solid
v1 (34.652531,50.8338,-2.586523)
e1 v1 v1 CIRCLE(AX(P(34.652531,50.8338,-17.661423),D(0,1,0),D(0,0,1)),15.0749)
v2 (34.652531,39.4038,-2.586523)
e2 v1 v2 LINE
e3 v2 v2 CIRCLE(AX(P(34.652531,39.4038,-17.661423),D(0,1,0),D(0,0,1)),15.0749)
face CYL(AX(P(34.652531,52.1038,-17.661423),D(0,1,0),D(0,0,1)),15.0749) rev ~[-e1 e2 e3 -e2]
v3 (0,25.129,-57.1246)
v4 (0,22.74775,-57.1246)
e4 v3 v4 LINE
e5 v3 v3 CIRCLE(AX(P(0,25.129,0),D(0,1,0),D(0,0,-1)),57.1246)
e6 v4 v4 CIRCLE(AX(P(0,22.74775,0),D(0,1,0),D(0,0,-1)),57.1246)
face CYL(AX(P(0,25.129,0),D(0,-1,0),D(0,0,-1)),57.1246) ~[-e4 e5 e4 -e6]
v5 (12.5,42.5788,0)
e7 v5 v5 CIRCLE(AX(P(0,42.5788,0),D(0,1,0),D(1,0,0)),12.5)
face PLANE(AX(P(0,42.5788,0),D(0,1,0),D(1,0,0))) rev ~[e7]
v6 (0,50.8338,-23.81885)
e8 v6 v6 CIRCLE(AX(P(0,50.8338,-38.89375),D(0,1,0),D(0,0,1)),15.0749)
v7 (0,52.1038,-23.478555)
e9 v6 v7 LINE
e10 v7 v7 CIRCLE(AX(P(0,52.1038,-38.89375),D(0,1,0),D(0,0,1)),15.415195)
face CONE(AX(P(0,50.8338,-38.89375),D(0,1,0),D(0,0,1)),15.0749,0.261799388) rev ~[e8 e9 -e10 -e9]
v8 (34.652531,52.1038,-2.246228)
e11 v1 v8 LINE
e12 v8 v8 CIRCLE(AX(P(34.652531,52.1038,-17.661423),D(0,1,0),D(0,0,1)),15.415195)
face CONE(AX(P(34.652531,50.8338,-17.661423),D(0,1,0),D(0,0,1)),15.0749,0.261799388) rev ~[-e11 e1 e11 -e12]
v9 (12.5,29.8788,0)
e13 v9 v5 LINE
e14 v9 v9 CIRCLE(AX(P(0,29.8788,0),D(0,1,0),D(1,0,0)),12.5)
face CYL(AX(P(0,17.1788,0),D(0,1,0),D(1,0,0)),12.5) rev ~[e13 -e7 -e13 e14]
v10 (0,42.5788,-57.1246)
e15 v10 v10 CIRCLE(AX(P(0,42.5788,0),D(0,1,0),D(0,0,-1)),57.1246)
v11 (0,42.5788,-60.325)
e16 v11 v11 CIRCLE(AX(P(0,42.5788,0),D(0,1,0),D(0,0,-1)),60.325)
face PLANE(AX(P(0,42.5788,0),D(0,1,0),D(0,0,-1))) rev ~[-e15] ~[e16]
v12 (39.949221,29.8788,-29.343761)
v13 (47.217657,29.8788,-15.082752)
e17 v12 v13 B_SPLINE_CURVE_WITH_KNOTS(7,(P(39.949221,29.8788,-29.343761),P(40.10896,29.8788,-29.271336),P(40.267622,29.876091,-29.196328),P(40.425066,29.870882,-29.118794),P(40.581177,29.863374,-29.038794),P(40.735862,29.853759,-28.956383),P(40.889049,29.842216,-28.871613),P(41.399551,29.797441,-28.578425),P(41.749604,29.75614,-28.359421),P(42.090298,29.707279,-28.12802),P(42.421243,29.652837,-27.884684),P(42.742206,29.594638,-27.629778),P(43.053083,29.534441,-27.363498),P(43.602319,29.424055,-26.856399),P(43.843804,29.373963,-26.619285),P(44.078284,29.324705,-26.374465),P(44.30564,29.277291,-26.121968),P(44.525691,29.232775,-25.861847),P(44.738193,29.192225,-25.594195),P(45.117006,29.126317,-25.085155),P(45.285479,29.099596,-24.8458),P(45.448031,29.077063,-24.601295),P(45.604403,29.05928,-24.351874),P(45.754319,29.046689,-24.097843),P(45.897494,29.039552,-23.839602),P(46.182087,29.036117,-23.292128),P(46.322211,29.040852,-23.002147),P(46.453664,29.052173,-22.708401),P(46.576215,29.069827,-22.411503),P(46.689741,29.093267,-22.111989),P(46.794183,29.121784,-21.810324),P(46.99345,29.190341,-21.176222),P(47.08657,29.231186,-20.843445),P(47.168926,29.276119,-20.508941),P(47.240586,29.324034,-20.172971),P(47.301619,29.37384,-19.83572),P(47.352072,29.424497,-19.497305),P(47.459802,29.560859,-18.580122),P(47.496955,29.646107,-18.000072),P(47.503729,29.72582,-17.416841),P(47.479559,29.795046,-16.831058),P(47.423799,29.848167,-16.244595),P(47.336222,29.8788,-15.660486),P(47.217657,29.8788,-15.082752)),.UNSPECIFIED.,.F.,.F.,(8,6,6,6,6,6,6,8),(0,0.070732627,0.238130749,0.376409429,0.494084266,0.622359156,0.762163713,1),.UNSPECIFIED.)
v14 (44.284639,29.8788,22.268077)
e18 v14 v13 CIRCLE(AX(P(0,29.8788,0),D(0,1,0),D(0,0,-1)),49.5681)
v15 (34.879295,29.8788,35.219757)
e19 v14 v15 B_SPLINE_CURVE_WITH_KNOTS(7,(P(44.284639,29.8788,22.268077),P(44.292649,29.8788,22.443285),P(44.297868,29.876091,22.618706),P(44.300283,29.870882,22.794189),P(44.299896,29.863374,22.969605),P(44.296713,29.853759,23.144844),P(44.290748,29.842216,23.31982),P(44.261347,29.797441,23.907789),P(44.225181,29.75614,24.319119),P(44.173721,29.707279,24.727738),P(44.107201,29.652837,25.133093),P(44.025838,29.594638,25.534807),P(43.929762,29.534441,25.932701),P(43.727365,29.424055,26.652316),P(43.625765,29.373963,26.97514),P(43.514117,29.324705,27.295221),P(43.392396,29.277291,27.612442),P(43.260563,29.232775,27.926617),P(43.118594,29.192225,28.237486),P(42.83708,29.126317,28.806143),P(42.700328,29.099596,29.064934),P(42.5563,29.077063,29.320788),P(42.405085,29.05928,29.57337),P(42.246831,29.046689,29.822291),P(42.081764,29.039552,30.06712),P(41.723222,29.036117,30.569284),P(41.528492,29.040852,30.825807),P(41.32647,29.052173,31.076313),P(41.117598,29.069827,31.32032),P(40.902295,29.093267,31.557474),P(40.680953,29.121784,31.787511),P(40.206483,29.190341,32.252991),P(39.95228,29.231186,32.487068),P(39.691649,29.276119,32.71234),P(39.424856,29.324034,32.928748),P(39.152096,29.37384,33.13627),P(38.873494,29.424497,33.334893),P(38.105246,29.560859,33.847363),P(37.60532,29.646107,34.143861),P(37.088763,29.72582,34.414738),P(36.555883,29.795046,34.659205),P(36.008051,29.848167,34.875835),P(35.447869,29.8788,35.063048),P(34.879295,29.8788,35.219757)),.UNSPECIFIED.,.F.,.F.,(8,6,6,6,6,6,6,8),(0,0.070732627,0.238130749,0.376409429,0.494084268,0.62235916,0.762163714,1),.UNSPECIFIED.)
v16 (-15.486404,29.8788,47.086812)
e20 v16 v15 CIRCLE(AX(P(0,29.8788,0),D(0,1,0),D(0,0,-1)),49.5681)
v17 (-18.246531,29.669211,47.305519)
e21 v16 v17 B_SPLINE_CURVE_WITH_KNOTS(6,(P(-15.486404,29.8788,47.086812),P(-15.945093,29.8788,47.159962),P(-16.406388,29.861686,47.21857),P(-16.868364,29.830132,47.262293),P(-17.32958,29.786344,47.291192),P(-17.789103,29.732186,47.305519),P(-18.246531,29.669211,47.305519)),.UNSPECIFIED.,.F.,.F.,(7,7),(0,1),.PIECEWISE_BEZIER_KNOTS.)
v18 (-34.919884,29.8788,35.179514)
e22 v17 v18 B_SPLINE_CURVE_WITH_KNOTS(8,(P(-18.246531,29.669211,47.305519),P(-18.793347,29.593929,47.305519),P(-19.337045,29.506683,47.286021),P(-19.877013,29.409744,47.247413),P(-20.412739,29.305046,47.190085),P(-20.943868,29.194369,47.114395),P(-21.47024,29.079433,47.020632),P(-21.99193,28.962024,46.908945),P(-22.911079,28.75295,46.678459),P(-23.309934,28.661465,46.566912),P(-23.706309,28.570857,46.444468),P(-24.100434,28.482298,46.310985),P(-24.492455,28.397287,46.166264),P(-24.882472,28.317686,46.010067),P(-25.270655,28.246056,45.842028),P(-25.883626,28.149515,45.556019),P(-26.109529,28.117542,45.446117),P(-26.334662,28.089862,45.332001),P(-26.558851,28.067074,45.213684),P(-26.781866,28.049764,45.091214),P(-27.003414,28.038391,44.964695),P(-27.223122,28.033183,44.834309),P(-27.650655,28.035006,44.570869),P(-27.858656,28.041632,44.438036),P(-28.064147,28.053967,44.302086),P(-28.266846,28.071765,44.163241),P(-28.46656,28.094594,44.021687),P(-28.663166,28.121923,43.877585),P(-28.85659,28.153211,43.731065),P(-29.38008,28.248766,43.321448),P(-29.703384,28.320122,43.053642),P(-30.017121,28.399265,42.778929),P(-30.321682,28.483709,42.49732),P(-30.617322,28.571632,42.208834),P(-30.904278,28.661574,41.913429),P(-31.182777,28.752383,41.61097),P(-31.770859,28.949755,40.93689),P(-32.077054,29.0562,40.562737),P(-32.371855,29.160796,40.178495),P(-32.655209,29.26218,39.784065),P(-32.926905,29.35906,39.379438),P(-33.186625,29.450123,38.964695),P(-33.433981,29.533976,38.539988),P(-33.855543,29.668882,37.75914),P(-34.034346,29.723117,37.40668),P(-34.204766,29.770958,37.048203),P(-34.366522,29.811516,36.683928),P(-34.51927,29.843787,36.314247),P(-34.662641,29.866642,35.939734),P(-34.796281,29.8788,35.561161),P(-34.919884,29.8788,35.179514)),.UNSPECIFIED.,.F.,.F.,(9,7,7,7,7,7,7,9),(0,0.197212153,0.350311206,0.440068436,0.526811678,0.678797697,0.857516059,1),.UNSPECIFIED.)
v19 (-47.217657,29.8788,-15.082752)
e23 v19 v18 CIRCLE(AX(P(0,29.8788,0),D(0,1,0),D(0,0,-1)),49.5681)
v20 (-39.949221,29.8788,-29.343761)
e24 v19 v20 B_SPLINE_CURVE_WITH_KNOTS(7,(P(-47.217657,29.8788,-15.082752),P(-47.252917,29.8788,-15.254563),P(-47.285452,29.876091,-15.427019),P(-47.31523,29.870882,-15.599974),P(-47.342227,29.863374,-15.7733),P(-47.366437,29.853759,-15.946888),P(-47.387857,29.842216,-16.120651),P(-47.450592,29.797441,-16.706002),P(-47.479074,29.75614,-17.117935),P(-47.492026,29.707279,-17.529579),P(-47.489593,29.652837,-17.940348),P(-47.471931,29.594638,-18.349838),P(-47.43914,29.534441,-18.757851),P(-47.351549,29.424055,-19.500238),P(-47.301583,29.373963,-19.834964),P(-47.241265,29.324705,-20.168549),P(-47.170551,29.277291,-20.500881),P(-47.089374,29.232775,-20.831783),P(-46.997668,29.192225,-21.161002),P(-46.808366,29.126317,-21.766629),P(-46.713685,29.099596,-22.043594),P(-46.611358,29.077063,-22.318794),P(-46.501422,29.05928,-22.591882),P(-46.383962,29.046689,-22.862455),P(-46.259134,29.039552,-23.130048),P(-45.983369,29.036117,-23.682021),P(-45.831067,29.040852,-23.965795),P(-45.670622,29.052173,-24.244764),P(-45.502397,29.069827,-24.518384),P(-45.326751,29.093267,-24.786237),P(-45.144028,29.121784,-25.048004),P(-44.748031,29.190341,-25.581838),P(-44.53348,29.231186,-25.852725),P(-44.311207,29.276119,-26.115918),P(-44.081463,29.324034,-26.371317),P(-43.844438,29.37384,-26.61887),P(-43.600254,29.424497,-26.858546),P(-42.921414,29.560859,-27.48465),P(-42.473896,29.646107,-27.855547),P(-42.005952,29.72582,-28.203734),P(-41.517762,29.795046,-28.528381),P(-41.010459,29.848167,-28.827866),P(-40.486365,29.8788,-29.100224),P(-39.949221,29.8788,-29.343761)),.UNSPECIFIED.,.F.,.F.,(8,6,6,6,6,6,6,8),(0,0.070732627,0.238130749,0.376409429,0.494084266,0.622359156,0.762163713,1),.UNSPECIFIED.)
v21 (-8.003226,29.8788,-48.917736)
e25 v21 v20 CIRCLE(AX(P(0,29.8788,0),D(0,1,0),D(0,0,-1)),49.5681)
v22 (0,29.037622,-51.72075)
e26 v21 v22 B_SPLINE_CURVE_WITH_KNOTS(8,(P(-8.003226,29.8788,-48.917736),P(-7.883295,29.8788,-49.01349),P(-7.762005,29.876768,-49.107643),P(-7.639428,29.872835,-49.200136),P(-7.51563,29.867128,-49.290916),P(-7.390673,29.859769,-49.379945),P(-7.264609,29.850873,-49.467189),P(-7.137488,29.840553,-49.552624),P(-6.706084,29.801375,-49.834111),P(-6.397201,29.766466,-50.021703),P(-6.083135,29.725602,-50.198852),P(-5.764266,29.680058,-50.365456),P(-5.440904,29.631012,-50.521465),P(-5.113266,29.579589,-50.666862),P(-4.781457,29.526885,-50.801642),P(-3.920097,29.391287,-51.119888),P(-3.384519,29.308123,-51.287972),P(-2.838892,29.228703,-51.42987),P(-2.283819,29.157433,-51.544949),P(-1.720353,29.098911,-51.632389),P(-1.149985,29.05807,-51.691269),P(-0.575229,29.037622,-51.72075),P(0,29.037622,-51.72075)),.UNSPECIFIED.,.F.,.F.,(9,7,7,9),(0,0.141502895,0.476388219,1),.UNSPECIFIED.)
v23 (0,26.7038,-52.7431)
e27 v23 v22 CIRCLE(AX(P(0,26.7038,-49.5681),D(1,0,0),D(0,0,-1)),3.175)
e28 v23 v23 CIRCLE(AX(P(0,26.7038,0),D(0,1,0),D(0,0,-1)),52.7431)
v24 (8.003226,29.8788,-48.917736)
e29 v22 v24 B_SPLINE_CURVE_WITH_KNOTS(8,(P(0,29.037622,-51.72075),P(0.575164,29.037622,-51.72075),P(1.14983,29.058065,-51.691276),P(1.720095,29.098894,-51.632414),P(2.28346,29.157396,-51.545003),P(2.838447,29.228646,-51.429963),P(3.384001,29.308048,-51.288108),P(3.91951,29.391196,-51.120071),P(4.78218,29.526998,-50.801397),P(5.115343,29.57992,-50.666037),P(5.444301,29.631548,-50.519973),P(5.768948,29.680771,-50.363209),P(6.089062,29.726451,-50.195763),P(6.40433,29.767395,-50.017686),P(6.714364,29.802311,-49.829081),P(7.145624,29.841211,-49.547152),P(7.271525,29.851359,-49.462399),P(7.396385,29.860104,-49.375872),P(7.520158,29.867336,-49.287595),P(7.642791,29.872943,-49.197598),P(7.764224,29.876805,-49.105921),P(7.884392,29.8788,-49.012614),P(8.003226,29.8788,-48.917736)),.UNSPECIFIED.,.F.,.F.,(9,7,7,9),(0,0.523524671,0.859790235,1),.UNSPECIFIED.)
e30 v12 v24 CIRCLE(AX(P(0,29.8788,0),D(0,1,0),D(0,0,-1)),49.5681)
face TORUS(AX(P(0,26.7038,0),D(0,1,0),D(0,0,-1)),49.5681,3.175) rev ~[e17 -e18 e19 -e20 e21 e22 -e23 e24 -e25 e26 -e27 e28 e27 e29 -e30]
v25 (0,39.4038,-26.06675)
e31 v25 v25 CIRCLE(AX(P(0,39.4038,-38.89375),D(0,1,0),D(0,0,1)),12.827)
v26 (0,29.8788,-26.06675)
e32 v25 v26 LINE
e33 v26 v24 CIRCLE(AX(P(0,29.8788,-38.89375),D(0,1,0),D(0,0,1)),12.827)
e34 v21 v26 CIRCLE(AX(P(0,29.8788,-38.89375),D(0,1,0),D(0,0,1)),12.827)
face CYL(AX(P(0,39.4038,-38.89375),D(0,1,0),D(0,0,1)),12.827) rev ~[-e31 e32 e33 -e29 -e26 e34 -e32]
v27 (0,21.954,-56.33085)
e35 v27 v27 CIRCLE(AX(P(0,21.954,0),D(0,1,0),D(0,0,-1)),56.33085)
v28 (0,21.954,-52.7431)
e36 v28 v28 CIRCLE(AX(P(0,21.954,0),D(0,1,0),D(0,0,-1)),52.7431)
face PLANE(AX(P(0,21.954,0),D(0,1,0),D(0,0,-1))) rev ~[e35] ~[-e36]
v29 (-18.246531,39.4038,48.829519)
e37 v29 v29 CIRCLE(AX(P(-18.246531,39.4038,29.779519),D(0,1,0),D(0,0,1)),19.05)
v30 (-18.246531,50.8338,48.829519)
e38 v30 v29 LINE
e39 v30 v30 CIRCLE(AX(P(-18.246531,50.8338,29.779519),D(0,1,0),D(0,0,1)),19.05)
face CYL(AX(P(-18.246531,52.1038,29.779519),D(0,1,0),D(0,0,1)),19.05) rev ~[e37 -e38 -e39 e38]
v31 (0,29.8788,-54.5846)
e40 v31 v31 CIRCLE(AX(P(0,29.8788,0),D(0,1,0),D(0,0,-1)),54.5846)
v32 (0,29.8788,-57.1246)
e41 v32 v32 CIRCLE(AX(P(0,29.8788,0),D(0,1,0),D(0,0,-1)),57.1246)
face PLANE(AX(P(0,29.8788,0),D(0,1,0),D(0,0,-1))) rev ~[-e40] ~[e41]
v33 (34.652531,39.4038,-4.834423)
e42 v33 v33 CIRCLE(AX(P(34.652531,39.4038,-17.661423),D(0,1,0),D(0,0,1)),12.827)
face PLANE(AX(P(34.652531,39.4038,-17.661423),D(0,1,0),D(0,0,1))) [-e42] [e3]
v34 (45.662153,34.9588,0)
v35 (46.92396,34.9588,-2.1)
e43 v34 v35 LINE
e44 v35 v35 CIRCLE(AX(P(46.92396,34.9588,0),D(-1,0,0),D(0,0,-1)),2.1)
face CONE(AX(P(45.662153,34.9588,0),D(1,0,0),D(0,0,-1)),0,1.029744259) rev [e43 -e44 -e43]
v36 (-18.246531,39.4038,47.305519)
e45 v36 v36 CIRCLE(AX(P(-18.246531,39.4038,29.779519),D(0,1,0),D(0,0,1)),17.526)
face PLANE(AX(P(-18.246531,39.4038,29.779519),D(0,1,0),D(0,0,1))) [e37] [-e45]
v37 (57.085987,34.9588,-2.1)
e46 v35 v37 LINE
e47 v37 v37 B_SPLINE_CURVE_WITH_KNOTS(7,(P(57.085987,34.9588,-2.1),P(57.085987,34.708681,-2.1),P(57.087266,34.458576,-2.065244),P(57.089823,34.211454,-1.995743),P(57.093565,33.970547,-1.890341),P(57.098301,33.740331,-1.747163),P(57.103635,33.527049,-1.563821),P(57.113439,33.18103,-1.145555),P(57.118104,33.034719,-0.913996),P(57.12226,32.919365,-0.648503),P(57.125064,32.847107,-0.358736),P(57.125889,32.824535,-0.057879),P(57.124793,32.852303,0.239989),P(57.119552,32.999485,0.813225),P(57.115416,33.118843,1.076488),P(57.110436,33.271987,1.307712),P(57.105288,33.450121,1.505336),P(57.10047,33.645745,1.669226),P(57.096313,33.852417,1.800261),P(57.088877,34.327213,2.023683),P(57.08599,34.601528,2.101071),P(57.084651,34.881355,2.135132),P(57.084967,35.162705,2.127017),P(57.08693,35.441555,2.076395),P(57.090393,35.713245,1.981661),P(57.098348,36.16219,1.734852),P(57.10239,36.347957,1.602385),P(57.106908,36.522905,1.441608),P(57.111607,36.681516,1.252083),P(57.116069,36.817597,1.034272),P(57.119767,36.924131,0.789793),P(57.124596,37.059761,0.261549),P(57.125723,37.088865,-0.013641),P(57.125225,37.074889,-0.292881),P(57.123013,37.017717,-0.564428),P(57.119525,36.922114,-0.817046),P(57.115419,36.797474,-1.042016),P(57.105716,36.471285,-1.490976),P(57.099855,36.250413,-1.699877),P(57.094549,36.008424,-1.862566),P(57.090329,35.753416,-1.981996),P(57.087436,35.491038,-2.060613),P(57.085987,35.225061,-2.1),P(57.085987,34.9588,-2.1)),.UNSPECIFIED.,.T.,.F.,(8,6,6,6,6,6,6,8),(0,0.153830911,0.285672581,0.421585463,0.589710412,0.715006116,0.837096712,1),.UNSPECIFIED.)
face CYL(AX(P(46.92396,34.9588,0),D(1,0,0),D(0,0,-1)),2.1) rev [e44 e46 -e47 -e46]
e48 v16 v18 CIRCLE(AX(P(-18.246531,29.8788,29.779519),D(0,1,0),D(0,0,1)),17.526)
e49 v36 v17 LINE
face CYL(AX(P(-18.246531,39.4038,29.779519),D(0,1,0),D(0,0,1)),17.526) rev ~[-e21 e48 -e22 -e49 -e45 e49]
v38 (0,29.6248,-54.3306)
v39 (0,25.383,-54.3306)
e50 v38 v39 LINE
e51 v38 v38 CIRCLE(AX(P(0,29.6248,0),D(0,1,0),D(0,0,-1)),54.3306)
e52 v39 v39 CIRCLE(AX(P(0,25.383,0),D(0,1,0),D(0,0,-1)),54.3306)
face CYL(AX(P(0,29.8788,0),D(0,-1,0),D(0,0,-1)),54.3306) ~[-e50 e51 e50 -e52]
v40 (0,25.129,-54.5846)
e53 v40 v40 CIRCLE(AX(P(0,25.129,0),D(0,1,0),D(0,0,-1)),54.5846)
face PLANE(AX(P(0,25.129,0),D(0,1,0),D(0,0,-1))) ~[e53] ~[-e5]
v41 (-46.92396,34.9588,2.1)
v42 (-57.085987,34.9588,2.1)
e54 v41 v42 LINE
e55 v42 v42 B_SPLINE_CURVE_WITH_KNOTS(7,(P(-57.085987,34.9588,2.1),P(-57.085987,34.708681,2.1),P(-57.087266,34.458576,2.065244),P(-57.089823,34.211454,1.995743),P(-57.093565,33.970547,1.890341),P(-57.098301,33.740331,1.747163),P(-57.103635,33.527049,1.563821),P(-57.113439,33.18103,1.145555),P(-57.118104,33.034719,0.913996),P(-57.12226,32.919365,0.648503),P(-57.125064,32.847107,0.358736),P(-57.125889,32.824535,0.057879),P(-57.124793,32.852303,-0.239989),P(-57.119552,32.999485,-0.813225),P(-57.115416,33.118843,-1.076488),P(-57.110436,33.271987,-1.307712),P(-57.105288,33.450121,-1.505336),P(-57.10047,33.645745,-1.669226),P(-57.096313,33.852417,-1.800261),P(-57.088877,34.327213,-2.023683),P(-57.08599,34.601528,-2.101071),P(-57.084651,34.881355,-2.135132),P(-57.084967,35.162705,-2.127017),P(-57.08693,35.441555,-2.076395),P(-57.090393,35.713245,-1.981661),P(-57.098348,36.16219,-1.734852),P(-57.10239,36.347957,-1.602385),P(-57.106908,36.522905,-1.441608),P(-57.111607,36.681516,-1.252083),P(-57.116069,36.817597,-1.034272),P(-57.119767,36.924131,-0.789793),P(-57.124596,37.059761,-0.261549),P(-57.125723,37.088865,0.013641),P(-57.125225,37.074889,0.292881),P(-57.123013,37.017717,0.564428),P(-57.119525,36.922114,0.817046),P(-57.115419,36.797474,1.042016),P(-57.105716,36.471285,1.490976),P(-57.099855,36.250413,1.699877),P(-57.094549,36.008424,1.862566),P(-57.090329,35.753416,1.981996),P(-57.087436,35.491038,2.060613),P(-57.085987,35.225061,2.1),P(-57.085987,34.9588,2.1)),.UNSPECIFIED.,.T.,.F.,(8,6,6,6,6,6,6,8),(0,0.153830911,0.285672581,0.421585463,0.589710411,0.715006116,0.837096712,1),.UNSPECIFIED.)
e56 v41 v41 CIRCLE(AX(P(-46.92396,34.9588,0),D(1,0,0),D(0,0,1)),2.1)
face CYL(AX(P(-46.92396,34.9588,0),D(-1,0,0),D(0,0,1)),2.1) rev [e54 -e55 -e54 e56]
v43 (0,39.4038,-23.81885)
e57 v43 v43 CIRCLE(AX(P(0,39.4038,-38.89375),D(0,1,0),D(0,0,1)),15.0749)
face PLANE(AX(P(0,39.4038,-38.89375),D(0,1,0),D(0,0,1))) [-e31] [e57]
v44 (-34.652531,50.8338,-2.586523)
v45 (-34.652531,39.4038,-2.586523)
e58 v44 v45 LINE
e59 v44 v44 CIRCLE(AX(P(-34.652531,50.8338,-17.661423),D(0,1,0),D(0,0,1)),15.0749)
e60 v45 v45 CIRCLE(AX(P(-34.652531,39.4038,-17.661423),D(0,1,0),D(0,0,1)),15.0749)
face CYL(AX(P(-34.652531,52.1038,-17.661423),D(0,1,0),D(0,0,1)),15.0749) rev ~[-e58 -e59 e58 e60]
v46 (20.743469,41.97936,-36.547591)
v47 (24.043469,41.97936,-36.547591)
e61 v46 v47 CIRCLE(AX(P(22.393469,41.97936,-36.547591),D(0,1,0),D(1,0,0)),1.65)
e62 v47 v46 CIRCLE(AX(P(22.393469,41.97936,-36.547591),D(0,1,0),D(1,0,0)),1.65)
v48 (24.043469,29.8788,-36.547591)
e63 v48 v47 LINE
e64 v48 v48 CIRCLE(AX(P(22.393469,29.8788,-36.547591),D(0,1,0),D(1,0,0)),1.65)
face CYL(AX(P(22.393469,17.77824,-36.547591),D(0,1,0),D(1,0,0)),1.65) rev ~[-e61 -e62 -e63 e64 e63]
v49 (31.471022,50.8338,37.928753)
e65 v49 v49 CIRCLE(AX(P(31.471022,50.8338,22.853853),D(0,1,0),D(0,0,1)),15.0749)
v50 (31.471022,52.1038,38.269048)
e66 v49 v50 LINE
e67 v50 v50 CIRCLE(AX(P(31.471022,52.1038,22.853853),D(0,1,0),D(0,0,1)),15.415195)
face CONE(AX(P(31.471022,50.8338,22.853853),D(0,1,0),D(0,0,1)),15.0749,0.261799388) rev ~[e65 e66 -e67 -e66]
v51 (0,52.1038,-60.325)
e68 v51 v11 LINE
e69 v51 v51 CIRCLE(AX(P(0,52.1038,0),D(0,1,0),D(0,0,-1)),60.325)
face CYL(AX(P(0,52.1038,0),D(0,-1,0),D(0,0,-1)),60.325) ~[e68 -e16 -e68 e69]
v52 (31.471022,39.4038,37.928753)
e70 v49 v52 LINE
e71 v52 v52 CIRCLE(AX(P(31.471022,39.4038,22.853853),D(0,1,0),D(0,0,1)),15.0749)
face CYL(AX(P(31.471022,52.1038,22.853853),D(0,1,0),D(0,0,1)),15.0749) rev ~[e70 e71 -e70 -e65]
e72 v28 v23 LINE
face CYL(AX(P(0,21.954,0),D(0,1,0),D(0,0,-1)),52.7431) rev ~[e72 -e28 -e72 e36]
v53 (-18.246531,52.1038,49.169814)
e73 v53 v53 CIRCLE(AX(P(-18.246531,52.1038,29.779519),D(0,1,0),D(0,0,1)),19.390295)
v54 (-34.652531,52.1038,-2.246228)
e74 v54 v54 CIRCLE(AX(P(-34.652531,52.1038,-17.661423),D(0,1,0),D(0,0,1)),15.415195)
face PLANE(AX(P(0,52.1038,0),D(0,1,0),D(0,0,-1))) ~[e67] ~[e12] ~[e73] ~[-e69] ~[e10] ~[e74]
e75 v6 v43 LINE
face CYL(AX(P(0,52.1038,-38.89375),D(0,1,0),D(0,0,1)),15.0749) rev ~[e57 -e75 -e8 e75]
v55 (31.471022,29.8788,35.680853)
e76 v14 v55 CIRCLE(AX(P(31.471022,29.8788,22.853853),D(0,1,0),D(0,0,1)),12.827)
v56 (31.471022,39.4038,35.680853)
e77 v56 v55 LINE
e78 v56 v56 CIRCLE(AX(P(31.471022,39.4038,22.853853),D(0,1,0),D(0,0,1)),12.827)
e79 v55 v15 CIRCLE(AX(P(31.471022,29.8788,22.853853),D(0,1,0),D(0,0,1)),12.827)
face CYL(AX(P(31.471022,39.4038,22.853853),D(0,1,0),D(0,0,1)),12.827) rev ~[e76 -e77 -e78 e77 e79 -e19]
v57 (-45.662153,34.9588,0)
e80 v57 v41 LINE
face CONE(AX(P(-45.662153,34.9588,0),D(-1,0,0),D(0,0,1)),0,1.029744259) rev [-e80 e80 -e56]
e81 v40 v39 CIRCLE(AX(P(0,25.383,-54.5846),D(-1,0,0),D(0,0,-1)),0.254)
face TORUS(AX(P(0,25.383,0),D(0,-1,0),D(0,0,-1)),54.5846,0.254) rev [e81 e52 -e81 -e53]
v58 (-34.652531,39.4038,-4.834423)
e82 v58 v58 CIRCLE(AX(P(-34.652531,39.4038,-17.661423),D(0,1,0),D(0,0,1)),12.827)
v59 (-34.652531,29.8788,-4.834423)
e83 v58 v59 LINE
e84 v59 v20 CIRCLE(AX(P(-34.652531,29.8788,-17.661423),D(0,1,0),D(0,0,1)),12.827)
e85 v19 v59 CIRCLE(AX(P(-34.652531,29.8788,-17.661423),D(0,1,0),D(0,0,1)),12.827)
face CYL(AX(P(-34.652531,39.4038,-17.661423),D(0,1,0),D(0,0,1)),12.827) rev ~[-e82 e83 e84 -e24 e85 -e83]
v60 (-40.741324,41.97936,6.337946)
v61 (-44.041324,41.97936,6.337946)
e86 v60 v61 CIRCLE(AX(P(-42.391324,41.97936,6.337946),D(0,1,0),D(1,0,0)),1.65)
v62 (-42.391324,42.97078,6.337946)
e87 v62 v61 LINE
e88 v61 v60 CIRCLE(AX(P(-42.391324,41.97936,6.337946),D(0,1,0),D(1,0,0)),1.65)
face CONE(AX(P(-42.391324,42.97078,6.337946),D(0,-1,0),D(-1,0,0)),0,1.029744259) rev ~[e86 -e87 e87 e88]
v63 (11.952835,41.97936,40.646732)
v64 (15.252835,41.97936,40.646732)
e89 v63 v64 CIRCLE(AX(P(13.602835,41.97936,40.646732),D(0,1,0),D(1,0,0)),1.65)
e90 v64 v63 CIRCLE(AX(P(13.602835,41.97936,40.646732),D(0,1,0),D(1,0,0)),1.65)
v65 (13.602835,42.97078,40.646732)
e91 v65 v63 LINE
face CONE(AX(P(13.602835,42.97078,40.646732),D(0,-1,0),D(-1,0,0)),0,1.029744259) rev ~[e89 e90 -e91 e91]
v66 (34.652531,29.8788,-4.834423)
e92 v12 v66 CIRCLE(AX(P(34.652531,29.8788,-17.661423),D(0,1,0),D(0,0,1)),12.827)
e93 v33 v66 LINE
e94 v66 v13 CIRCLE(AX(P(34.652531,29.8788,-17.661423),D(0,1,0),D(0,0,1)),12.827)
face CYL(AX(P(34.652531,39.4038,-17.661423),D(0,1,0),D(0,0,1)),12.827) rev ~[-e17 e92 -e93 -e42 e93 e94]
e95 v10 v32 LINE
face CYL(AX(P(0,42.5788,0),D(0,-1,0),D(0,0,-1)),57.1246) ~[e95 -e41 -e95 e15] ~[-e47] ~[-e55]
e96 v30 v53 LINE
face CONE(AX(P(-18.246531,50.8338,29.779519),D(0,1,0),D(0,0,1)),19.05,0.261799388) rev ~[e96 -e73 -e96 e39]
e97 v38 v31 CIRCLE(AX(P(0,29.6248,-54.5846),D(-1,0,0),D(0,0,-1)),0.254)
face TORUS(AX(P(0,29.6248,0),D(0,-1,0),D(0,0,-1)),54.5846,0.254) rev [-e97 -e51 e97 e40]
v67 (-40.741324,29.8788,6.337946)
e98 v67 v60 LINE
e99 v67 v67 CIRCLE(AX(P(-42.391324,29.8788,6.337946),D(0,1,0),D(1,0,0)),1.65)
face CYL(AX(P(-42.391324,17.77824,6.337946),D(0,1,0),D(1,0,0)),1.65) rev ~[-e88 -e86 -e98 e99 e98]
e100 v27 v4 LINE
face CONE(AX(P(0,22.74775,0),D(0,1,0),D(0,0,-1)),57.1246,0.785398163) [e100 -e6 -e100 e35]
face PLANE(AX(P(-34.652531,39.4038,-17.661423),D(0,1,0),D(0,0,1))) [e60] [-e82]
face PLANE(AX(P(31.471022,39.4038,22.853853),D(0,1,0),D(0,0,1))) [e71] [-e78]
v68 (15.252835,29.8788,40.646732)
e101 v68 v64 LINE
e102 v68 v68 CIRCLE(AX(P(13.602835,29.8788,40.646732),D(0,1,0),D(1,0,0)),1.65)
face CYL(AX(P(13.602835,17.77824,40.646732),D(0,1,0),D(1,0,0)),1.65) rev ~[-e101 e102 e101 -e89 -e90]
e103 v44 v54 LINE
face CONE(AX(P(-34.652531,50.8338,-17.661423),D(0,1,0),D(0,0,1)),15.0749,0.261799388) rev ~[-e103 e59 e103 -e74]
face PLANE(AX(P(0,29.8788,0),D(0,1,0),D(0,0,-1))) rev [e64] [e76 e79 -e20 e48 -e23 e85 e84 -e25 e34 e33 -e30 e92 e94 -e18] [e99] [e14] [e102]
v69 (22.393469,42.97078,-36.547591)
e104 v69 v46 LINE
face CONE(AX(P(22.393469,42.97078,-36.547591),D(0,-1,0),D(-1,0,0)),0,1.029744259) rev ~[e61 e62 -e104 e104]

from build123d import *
from OCP.BRepFilletAPI import BRepFilletAPI_MakeChamfer

# Parameters (mm, degrees)
FILLET1_R                          = 3.175
M4_CIRPATTERN1_COUNT               = 2
SKETCH6_R                          = 15.0749
F_0_88_FEEDTHRU_CUT_EXTRUDE2_DEPTH = 12.7
SKETCH7_R                          = 12.827
F_0_88_FEEDTHRU_CUT_EXTRUDE3_DEPTH = 88.078738909
SKETCH8_R                          = 19.05
F_1_5_FEEDTHRU_CUT_EXTRUDE4_DEPTH  = 12.7
SKETCH9_R                          = 17.526
F_1_5_FEEDTHRU_CUT_EXTRUDE5_DEPTH  = 88.078738909
M27X3_TAPPED_HOLE1_D               = 25
M27X3_TAPPED_HOLE1_DEPTH           = 12.7
M4X0_7_TAPPED_HOLE1_D              = 3.3
M4X0_7_TAPPED_HOLE1_DEPTH          = 12.10056
M4X0_7_TAPPED_HOLE1_TIP            = 0.991420021
CHAMFER1_SIZE                      = 0.79375
FILLET2_R                          = 0.254
CHAMFER2_SIZE                      = 1.27
CHAMFER2_SIZE2                     = 0.340295474


with BuildPart() as part:
    # Sketch1 → Revolve1 (revolve)
    with BuildSketch(Plane.XY):
        Polygon((52.7431, 21.954), (52.7431, 29.8788), (17, 29.8788), (0, 29.8788), (0, 52.1038), (60.325, 52.1038), (60.325, 42.5788), (57.1246, 42.5788), (57.1246, 29.8788), (54.3306, 29.8788), (54.3306, 25.129), (57.1246, 25.129), (57.1246, 21.954), align=None)
    revolve(axis=Axis((0, 0, 0), (0, 1, 0)))

    # Fillet1
    fillet1_edges = [part.edges().sort_by_distance(p)[0] for p in [
        (-52.7431, 29.8788, 0),
    ]]
    fillet(fillet1_edges, radius=FILLET1_R)

    # Sketch5 → Tapped Hole for M4x0.7 Helicoil1 (revolve, cut)
    with BuildSketch(Plane(origin=(57.1246, 34.9588, 0), x_dir=(0, 0, -1), z_dir=(0, 1, 0))):
        Polygon((0, 0), (0, 11.4624473), (2.1, 10.20064), (2.1, 0), align=None)
    tapped_hole_for_m4x0_7_helicoil1 = revolve(axis=Axis((63.4746, 34.9588, 0), (-1, 0, 0)), mode=Mode.SUBTRACT)

    # M4 CirPattern1: Tapped Hole for M4x0.7 Helicoil1 ×2 about axis
    m4_cirpattern1_axis = Axis((0, 0, 0), (0, -1, 0))
    for i in range(1, M4_CIRPATTERN1_COUNT):
        add(tapped_hole_for_m4x0_7_helicoil1.rotate(m4_cirpattern1_axis, i * 360 / M4_CIRPATTERN1_COUNT), mode=Mode.SUBTRACT)

    # Sketch6 → 0.88 feedthru Cut-Extrude2 (cut)
    with BuildSketch(Plane(origin=(0, 52.1038, 0), x_dir=(1, 0, 0), z_dir=(0, 1, 0))):
        with Locations((0, 38.89375)):
            Circle(SKETCH6_R)
        with Locations((34.652531078, 17.661423469)):
            Circle(SKETCH6_R)
        with Locations((-34.652531078, 17.661423469)):
            Circle(SKETCH6_R)
        with Locations((31.471021727, -22.85385264)):
            Circle(SKETCH6_R)
    extrude(amount=-F_0_88_FEEDTHRU_CUT_EXTRUDE2_DEPTH, mode=Mode.SUBTRACT)

    # Sketch7 → 0.88 feedthru Cut-Extrude3 (cut, through all)
    with BuildSketch(Plane(origin=(0, 39.4038, 0), x_dir=(1, 0, 0), z_dir=(0, 1, 0))):
        with Locations((0, 38.89375)):
            Circle(SKETCH7_R)
        with Locations((34.652531078, 17.661423469)):
            Circle(SKETCH7_R)
        with Locations((-34.652531078, 17.661423469)):
            Circle(SKETCH7_R)
        with Locations((31.471021727, -22.85385264)):
            Circle(SKETCH7_R)
    extrude(amount=-F_0_88_FEEDTHRU_CUT_EXTRUDE3_DEPTH, mode=Mode.SUBTRACT)

    # Sketch8 → 1.5 feedthru Cut-Extrude4 (cut)
    with BuildSketch(Plane(origin=(0, 52.1038, 0), x_dir=(1, 0, 0), z_dir=(0, 1, 0))):
        with Locations((-18.246530612, -29.779518895)):
            Circle(SKETCH8_R)
    extrude(amount=-F_1_5_FEEDTHRU_CUT_EXTRUDE4_DEPTH, mode=Mode.SUBTRACT)

    # Sketch9 → 1.5 feedthru Cut-Extrude5 (cut, through all)
    with BuildSketch(Plane(origin=(0, 39.4038, 0), x_dir=(1, 0, 0), z_dir=(0, 1, 0))):
        with Locations((-18.246530612, -29.779518895)):
            Circle(SKETCH9_R)
    extrude(amount=-F_1_5_FEEDTHRU_CUT_EXTRUDE5_DEPTH, mode=Mode.SUBTRACT)

    # M27x3 Tapped Hole1
    with Locations(Plane(origin=(0, 29.8788, 0), x_dir=(-1, 0, 0), z_dir=(0, -1, 0))):
        with Locations((0, 0)):
            Hole(M27X3_TAPPED_HOLE1_D / 2, depth=M27X3_TAPPED_HOLE1_DEPTH)

    # M4x0.7 Tapped Hole1
    with Locations(Plane(origin=(0, 29.8788, 0), x_dir=(-1, 0, 0), z_dir=(0, -1, 0))):
        with Locations((-22.393469388, 36.547591371), (42.39132394, -6.337946111), (-13.602834619, -40.646731684)):
            Hole(M4X0_7_TAPPED_HOLE1_D / 2, depth=M4X0_7_TAPPED_HOLE1_DEPTH)
            with Locations((0, 0, -(M4X0_7_TAPPED_HOLE1_DEPTH + M4X0_7_TAPPED_HOLE1_TIP / 2))):  # 118° drill point
                Cone(0, M4X0_7_TAPPED_HOLE1_D / 2, M4X0_7_TAPPED_HOLE1_TIP, mode=Mode.SUBTRACT)

    # Chamfer1
    chamfer1_edges = [part.edges().sort_by_distance(p)[0] for p in [
        (-57.1246, 21.954, 0),
    ]]
    chamfer(chamfer1_edges, length=CHAMFER1_SIZE)

    # Fillet2
    fillet2_edges = [part.edges().sort_by_distance(p)[0] for p in [
        (-54.3306, 25.129, 0),
        (-54.3306, 29.8788, 0),
    ]]
    fillet(fillet2_edges, radius=FILLET2_R)

    # Chamfer2: one chamfer whose edges measure the first distance from different faces: ONE call of the kernel's chamfer builder (chamfer() names one face for all edges)
    chamfer2_edges_1 = [part.edges().sort_by_distance(p)[0] for p in [
        (-37.296530612, 52.1038, 29.779518895),
    ]]
    chamfer2_side_1 = [part.faces().sort_by_distance(p)[0] for p in [
        (-37.296530612, 45.7538, 29.779518895),
    ]]
    chamfer2_edges_2 = [part.edges().sort_by_distance(p)[0] for p in [
        (19.577631078, 52.1038, -17.661423469),
    ]]
    chamfer2_side_2 = [part.faces().sort_by_distance(p)[0] for p in [
        (19.577631078, 45.7538, -17.661423469),
    ]]
    chamfer2_edges_3 = [part.edges().sort_by_distance(p)[0] for p in [
        (-15.0749, 52.1038, -38.89375),
    ]]
    chamfer2_side_3 = [part.faces().sort_by_distance(p)[0] for p in [
        (-15.0749, 45.7538, -38.89375),
    ]]
    chamfer2_edges_4 = [part.edges().sort_by_distance(p)[0] for p in [
        (-49.727431078, 52.1038, -17.661423469),
    ]]
    chamfer2_side_4 = [part.faces().sort_by_distance(p)[0] for p in [
        (-49.727431078, 45.7538, -17.661423469),
    ]]
    chamfer2_edges_5 = [part.edges().sort_by_distance(p)[0] for p in [
        (16.396121727, 52.1038, 22.85385264),
    ]]
    chamfer2_side_5 = [part.faces().sort_by_distance(p)[0] for p in [
        (16.396121727, 45.7538, 22.85385264),
    ]]
    chamfer2 = BRepFilletAPI_MakeChamfer(part.part.solid().wrapped)
    for e in chamfer2_edges_1:
        chamfer2.Add(CHAMFER2_SIZE, CHAMFER2_SIZE2, e.wrapped, chamfer2_side_1[0].wrapped)  # the first distance lies on this face
    for e in chamfer2_edges_2:
        chamfer2.Add(CHAMFER2_SIZE, CHAMFER2_SIZE2, e.wrapped, chamfer2_side_2[0].wrapped)  # the first distance lies on this face
    for e in chamfer2_edges_3:
        chamfer2.Add(CHAMFER2_SIZE, CHAMFER2_SIZE2, e.wrapped, chamfer2_side_3[0].wrapped)  # the first distance lies on this face
    for e in chamfer2_edges_4:
        chamfer2.Add(CHAMFER2_SIZE, CHAMFER2_SIZE2, e.wrapped, chamfer2_side_4[0].wrapped)  # the first distance lies on this face
    for e in chamfer2_edges_5:
        chamfer2.Add(CHAMFER2_SIZE, CHAMFER2_SIZE2, e.wrapped, chamfer2_side_5[0].wrapped)  # the first distance lies on this face
    add(Compound.cast(chamfer2.Shape()), mode=Mode.REPLACE)


solid = part.part
